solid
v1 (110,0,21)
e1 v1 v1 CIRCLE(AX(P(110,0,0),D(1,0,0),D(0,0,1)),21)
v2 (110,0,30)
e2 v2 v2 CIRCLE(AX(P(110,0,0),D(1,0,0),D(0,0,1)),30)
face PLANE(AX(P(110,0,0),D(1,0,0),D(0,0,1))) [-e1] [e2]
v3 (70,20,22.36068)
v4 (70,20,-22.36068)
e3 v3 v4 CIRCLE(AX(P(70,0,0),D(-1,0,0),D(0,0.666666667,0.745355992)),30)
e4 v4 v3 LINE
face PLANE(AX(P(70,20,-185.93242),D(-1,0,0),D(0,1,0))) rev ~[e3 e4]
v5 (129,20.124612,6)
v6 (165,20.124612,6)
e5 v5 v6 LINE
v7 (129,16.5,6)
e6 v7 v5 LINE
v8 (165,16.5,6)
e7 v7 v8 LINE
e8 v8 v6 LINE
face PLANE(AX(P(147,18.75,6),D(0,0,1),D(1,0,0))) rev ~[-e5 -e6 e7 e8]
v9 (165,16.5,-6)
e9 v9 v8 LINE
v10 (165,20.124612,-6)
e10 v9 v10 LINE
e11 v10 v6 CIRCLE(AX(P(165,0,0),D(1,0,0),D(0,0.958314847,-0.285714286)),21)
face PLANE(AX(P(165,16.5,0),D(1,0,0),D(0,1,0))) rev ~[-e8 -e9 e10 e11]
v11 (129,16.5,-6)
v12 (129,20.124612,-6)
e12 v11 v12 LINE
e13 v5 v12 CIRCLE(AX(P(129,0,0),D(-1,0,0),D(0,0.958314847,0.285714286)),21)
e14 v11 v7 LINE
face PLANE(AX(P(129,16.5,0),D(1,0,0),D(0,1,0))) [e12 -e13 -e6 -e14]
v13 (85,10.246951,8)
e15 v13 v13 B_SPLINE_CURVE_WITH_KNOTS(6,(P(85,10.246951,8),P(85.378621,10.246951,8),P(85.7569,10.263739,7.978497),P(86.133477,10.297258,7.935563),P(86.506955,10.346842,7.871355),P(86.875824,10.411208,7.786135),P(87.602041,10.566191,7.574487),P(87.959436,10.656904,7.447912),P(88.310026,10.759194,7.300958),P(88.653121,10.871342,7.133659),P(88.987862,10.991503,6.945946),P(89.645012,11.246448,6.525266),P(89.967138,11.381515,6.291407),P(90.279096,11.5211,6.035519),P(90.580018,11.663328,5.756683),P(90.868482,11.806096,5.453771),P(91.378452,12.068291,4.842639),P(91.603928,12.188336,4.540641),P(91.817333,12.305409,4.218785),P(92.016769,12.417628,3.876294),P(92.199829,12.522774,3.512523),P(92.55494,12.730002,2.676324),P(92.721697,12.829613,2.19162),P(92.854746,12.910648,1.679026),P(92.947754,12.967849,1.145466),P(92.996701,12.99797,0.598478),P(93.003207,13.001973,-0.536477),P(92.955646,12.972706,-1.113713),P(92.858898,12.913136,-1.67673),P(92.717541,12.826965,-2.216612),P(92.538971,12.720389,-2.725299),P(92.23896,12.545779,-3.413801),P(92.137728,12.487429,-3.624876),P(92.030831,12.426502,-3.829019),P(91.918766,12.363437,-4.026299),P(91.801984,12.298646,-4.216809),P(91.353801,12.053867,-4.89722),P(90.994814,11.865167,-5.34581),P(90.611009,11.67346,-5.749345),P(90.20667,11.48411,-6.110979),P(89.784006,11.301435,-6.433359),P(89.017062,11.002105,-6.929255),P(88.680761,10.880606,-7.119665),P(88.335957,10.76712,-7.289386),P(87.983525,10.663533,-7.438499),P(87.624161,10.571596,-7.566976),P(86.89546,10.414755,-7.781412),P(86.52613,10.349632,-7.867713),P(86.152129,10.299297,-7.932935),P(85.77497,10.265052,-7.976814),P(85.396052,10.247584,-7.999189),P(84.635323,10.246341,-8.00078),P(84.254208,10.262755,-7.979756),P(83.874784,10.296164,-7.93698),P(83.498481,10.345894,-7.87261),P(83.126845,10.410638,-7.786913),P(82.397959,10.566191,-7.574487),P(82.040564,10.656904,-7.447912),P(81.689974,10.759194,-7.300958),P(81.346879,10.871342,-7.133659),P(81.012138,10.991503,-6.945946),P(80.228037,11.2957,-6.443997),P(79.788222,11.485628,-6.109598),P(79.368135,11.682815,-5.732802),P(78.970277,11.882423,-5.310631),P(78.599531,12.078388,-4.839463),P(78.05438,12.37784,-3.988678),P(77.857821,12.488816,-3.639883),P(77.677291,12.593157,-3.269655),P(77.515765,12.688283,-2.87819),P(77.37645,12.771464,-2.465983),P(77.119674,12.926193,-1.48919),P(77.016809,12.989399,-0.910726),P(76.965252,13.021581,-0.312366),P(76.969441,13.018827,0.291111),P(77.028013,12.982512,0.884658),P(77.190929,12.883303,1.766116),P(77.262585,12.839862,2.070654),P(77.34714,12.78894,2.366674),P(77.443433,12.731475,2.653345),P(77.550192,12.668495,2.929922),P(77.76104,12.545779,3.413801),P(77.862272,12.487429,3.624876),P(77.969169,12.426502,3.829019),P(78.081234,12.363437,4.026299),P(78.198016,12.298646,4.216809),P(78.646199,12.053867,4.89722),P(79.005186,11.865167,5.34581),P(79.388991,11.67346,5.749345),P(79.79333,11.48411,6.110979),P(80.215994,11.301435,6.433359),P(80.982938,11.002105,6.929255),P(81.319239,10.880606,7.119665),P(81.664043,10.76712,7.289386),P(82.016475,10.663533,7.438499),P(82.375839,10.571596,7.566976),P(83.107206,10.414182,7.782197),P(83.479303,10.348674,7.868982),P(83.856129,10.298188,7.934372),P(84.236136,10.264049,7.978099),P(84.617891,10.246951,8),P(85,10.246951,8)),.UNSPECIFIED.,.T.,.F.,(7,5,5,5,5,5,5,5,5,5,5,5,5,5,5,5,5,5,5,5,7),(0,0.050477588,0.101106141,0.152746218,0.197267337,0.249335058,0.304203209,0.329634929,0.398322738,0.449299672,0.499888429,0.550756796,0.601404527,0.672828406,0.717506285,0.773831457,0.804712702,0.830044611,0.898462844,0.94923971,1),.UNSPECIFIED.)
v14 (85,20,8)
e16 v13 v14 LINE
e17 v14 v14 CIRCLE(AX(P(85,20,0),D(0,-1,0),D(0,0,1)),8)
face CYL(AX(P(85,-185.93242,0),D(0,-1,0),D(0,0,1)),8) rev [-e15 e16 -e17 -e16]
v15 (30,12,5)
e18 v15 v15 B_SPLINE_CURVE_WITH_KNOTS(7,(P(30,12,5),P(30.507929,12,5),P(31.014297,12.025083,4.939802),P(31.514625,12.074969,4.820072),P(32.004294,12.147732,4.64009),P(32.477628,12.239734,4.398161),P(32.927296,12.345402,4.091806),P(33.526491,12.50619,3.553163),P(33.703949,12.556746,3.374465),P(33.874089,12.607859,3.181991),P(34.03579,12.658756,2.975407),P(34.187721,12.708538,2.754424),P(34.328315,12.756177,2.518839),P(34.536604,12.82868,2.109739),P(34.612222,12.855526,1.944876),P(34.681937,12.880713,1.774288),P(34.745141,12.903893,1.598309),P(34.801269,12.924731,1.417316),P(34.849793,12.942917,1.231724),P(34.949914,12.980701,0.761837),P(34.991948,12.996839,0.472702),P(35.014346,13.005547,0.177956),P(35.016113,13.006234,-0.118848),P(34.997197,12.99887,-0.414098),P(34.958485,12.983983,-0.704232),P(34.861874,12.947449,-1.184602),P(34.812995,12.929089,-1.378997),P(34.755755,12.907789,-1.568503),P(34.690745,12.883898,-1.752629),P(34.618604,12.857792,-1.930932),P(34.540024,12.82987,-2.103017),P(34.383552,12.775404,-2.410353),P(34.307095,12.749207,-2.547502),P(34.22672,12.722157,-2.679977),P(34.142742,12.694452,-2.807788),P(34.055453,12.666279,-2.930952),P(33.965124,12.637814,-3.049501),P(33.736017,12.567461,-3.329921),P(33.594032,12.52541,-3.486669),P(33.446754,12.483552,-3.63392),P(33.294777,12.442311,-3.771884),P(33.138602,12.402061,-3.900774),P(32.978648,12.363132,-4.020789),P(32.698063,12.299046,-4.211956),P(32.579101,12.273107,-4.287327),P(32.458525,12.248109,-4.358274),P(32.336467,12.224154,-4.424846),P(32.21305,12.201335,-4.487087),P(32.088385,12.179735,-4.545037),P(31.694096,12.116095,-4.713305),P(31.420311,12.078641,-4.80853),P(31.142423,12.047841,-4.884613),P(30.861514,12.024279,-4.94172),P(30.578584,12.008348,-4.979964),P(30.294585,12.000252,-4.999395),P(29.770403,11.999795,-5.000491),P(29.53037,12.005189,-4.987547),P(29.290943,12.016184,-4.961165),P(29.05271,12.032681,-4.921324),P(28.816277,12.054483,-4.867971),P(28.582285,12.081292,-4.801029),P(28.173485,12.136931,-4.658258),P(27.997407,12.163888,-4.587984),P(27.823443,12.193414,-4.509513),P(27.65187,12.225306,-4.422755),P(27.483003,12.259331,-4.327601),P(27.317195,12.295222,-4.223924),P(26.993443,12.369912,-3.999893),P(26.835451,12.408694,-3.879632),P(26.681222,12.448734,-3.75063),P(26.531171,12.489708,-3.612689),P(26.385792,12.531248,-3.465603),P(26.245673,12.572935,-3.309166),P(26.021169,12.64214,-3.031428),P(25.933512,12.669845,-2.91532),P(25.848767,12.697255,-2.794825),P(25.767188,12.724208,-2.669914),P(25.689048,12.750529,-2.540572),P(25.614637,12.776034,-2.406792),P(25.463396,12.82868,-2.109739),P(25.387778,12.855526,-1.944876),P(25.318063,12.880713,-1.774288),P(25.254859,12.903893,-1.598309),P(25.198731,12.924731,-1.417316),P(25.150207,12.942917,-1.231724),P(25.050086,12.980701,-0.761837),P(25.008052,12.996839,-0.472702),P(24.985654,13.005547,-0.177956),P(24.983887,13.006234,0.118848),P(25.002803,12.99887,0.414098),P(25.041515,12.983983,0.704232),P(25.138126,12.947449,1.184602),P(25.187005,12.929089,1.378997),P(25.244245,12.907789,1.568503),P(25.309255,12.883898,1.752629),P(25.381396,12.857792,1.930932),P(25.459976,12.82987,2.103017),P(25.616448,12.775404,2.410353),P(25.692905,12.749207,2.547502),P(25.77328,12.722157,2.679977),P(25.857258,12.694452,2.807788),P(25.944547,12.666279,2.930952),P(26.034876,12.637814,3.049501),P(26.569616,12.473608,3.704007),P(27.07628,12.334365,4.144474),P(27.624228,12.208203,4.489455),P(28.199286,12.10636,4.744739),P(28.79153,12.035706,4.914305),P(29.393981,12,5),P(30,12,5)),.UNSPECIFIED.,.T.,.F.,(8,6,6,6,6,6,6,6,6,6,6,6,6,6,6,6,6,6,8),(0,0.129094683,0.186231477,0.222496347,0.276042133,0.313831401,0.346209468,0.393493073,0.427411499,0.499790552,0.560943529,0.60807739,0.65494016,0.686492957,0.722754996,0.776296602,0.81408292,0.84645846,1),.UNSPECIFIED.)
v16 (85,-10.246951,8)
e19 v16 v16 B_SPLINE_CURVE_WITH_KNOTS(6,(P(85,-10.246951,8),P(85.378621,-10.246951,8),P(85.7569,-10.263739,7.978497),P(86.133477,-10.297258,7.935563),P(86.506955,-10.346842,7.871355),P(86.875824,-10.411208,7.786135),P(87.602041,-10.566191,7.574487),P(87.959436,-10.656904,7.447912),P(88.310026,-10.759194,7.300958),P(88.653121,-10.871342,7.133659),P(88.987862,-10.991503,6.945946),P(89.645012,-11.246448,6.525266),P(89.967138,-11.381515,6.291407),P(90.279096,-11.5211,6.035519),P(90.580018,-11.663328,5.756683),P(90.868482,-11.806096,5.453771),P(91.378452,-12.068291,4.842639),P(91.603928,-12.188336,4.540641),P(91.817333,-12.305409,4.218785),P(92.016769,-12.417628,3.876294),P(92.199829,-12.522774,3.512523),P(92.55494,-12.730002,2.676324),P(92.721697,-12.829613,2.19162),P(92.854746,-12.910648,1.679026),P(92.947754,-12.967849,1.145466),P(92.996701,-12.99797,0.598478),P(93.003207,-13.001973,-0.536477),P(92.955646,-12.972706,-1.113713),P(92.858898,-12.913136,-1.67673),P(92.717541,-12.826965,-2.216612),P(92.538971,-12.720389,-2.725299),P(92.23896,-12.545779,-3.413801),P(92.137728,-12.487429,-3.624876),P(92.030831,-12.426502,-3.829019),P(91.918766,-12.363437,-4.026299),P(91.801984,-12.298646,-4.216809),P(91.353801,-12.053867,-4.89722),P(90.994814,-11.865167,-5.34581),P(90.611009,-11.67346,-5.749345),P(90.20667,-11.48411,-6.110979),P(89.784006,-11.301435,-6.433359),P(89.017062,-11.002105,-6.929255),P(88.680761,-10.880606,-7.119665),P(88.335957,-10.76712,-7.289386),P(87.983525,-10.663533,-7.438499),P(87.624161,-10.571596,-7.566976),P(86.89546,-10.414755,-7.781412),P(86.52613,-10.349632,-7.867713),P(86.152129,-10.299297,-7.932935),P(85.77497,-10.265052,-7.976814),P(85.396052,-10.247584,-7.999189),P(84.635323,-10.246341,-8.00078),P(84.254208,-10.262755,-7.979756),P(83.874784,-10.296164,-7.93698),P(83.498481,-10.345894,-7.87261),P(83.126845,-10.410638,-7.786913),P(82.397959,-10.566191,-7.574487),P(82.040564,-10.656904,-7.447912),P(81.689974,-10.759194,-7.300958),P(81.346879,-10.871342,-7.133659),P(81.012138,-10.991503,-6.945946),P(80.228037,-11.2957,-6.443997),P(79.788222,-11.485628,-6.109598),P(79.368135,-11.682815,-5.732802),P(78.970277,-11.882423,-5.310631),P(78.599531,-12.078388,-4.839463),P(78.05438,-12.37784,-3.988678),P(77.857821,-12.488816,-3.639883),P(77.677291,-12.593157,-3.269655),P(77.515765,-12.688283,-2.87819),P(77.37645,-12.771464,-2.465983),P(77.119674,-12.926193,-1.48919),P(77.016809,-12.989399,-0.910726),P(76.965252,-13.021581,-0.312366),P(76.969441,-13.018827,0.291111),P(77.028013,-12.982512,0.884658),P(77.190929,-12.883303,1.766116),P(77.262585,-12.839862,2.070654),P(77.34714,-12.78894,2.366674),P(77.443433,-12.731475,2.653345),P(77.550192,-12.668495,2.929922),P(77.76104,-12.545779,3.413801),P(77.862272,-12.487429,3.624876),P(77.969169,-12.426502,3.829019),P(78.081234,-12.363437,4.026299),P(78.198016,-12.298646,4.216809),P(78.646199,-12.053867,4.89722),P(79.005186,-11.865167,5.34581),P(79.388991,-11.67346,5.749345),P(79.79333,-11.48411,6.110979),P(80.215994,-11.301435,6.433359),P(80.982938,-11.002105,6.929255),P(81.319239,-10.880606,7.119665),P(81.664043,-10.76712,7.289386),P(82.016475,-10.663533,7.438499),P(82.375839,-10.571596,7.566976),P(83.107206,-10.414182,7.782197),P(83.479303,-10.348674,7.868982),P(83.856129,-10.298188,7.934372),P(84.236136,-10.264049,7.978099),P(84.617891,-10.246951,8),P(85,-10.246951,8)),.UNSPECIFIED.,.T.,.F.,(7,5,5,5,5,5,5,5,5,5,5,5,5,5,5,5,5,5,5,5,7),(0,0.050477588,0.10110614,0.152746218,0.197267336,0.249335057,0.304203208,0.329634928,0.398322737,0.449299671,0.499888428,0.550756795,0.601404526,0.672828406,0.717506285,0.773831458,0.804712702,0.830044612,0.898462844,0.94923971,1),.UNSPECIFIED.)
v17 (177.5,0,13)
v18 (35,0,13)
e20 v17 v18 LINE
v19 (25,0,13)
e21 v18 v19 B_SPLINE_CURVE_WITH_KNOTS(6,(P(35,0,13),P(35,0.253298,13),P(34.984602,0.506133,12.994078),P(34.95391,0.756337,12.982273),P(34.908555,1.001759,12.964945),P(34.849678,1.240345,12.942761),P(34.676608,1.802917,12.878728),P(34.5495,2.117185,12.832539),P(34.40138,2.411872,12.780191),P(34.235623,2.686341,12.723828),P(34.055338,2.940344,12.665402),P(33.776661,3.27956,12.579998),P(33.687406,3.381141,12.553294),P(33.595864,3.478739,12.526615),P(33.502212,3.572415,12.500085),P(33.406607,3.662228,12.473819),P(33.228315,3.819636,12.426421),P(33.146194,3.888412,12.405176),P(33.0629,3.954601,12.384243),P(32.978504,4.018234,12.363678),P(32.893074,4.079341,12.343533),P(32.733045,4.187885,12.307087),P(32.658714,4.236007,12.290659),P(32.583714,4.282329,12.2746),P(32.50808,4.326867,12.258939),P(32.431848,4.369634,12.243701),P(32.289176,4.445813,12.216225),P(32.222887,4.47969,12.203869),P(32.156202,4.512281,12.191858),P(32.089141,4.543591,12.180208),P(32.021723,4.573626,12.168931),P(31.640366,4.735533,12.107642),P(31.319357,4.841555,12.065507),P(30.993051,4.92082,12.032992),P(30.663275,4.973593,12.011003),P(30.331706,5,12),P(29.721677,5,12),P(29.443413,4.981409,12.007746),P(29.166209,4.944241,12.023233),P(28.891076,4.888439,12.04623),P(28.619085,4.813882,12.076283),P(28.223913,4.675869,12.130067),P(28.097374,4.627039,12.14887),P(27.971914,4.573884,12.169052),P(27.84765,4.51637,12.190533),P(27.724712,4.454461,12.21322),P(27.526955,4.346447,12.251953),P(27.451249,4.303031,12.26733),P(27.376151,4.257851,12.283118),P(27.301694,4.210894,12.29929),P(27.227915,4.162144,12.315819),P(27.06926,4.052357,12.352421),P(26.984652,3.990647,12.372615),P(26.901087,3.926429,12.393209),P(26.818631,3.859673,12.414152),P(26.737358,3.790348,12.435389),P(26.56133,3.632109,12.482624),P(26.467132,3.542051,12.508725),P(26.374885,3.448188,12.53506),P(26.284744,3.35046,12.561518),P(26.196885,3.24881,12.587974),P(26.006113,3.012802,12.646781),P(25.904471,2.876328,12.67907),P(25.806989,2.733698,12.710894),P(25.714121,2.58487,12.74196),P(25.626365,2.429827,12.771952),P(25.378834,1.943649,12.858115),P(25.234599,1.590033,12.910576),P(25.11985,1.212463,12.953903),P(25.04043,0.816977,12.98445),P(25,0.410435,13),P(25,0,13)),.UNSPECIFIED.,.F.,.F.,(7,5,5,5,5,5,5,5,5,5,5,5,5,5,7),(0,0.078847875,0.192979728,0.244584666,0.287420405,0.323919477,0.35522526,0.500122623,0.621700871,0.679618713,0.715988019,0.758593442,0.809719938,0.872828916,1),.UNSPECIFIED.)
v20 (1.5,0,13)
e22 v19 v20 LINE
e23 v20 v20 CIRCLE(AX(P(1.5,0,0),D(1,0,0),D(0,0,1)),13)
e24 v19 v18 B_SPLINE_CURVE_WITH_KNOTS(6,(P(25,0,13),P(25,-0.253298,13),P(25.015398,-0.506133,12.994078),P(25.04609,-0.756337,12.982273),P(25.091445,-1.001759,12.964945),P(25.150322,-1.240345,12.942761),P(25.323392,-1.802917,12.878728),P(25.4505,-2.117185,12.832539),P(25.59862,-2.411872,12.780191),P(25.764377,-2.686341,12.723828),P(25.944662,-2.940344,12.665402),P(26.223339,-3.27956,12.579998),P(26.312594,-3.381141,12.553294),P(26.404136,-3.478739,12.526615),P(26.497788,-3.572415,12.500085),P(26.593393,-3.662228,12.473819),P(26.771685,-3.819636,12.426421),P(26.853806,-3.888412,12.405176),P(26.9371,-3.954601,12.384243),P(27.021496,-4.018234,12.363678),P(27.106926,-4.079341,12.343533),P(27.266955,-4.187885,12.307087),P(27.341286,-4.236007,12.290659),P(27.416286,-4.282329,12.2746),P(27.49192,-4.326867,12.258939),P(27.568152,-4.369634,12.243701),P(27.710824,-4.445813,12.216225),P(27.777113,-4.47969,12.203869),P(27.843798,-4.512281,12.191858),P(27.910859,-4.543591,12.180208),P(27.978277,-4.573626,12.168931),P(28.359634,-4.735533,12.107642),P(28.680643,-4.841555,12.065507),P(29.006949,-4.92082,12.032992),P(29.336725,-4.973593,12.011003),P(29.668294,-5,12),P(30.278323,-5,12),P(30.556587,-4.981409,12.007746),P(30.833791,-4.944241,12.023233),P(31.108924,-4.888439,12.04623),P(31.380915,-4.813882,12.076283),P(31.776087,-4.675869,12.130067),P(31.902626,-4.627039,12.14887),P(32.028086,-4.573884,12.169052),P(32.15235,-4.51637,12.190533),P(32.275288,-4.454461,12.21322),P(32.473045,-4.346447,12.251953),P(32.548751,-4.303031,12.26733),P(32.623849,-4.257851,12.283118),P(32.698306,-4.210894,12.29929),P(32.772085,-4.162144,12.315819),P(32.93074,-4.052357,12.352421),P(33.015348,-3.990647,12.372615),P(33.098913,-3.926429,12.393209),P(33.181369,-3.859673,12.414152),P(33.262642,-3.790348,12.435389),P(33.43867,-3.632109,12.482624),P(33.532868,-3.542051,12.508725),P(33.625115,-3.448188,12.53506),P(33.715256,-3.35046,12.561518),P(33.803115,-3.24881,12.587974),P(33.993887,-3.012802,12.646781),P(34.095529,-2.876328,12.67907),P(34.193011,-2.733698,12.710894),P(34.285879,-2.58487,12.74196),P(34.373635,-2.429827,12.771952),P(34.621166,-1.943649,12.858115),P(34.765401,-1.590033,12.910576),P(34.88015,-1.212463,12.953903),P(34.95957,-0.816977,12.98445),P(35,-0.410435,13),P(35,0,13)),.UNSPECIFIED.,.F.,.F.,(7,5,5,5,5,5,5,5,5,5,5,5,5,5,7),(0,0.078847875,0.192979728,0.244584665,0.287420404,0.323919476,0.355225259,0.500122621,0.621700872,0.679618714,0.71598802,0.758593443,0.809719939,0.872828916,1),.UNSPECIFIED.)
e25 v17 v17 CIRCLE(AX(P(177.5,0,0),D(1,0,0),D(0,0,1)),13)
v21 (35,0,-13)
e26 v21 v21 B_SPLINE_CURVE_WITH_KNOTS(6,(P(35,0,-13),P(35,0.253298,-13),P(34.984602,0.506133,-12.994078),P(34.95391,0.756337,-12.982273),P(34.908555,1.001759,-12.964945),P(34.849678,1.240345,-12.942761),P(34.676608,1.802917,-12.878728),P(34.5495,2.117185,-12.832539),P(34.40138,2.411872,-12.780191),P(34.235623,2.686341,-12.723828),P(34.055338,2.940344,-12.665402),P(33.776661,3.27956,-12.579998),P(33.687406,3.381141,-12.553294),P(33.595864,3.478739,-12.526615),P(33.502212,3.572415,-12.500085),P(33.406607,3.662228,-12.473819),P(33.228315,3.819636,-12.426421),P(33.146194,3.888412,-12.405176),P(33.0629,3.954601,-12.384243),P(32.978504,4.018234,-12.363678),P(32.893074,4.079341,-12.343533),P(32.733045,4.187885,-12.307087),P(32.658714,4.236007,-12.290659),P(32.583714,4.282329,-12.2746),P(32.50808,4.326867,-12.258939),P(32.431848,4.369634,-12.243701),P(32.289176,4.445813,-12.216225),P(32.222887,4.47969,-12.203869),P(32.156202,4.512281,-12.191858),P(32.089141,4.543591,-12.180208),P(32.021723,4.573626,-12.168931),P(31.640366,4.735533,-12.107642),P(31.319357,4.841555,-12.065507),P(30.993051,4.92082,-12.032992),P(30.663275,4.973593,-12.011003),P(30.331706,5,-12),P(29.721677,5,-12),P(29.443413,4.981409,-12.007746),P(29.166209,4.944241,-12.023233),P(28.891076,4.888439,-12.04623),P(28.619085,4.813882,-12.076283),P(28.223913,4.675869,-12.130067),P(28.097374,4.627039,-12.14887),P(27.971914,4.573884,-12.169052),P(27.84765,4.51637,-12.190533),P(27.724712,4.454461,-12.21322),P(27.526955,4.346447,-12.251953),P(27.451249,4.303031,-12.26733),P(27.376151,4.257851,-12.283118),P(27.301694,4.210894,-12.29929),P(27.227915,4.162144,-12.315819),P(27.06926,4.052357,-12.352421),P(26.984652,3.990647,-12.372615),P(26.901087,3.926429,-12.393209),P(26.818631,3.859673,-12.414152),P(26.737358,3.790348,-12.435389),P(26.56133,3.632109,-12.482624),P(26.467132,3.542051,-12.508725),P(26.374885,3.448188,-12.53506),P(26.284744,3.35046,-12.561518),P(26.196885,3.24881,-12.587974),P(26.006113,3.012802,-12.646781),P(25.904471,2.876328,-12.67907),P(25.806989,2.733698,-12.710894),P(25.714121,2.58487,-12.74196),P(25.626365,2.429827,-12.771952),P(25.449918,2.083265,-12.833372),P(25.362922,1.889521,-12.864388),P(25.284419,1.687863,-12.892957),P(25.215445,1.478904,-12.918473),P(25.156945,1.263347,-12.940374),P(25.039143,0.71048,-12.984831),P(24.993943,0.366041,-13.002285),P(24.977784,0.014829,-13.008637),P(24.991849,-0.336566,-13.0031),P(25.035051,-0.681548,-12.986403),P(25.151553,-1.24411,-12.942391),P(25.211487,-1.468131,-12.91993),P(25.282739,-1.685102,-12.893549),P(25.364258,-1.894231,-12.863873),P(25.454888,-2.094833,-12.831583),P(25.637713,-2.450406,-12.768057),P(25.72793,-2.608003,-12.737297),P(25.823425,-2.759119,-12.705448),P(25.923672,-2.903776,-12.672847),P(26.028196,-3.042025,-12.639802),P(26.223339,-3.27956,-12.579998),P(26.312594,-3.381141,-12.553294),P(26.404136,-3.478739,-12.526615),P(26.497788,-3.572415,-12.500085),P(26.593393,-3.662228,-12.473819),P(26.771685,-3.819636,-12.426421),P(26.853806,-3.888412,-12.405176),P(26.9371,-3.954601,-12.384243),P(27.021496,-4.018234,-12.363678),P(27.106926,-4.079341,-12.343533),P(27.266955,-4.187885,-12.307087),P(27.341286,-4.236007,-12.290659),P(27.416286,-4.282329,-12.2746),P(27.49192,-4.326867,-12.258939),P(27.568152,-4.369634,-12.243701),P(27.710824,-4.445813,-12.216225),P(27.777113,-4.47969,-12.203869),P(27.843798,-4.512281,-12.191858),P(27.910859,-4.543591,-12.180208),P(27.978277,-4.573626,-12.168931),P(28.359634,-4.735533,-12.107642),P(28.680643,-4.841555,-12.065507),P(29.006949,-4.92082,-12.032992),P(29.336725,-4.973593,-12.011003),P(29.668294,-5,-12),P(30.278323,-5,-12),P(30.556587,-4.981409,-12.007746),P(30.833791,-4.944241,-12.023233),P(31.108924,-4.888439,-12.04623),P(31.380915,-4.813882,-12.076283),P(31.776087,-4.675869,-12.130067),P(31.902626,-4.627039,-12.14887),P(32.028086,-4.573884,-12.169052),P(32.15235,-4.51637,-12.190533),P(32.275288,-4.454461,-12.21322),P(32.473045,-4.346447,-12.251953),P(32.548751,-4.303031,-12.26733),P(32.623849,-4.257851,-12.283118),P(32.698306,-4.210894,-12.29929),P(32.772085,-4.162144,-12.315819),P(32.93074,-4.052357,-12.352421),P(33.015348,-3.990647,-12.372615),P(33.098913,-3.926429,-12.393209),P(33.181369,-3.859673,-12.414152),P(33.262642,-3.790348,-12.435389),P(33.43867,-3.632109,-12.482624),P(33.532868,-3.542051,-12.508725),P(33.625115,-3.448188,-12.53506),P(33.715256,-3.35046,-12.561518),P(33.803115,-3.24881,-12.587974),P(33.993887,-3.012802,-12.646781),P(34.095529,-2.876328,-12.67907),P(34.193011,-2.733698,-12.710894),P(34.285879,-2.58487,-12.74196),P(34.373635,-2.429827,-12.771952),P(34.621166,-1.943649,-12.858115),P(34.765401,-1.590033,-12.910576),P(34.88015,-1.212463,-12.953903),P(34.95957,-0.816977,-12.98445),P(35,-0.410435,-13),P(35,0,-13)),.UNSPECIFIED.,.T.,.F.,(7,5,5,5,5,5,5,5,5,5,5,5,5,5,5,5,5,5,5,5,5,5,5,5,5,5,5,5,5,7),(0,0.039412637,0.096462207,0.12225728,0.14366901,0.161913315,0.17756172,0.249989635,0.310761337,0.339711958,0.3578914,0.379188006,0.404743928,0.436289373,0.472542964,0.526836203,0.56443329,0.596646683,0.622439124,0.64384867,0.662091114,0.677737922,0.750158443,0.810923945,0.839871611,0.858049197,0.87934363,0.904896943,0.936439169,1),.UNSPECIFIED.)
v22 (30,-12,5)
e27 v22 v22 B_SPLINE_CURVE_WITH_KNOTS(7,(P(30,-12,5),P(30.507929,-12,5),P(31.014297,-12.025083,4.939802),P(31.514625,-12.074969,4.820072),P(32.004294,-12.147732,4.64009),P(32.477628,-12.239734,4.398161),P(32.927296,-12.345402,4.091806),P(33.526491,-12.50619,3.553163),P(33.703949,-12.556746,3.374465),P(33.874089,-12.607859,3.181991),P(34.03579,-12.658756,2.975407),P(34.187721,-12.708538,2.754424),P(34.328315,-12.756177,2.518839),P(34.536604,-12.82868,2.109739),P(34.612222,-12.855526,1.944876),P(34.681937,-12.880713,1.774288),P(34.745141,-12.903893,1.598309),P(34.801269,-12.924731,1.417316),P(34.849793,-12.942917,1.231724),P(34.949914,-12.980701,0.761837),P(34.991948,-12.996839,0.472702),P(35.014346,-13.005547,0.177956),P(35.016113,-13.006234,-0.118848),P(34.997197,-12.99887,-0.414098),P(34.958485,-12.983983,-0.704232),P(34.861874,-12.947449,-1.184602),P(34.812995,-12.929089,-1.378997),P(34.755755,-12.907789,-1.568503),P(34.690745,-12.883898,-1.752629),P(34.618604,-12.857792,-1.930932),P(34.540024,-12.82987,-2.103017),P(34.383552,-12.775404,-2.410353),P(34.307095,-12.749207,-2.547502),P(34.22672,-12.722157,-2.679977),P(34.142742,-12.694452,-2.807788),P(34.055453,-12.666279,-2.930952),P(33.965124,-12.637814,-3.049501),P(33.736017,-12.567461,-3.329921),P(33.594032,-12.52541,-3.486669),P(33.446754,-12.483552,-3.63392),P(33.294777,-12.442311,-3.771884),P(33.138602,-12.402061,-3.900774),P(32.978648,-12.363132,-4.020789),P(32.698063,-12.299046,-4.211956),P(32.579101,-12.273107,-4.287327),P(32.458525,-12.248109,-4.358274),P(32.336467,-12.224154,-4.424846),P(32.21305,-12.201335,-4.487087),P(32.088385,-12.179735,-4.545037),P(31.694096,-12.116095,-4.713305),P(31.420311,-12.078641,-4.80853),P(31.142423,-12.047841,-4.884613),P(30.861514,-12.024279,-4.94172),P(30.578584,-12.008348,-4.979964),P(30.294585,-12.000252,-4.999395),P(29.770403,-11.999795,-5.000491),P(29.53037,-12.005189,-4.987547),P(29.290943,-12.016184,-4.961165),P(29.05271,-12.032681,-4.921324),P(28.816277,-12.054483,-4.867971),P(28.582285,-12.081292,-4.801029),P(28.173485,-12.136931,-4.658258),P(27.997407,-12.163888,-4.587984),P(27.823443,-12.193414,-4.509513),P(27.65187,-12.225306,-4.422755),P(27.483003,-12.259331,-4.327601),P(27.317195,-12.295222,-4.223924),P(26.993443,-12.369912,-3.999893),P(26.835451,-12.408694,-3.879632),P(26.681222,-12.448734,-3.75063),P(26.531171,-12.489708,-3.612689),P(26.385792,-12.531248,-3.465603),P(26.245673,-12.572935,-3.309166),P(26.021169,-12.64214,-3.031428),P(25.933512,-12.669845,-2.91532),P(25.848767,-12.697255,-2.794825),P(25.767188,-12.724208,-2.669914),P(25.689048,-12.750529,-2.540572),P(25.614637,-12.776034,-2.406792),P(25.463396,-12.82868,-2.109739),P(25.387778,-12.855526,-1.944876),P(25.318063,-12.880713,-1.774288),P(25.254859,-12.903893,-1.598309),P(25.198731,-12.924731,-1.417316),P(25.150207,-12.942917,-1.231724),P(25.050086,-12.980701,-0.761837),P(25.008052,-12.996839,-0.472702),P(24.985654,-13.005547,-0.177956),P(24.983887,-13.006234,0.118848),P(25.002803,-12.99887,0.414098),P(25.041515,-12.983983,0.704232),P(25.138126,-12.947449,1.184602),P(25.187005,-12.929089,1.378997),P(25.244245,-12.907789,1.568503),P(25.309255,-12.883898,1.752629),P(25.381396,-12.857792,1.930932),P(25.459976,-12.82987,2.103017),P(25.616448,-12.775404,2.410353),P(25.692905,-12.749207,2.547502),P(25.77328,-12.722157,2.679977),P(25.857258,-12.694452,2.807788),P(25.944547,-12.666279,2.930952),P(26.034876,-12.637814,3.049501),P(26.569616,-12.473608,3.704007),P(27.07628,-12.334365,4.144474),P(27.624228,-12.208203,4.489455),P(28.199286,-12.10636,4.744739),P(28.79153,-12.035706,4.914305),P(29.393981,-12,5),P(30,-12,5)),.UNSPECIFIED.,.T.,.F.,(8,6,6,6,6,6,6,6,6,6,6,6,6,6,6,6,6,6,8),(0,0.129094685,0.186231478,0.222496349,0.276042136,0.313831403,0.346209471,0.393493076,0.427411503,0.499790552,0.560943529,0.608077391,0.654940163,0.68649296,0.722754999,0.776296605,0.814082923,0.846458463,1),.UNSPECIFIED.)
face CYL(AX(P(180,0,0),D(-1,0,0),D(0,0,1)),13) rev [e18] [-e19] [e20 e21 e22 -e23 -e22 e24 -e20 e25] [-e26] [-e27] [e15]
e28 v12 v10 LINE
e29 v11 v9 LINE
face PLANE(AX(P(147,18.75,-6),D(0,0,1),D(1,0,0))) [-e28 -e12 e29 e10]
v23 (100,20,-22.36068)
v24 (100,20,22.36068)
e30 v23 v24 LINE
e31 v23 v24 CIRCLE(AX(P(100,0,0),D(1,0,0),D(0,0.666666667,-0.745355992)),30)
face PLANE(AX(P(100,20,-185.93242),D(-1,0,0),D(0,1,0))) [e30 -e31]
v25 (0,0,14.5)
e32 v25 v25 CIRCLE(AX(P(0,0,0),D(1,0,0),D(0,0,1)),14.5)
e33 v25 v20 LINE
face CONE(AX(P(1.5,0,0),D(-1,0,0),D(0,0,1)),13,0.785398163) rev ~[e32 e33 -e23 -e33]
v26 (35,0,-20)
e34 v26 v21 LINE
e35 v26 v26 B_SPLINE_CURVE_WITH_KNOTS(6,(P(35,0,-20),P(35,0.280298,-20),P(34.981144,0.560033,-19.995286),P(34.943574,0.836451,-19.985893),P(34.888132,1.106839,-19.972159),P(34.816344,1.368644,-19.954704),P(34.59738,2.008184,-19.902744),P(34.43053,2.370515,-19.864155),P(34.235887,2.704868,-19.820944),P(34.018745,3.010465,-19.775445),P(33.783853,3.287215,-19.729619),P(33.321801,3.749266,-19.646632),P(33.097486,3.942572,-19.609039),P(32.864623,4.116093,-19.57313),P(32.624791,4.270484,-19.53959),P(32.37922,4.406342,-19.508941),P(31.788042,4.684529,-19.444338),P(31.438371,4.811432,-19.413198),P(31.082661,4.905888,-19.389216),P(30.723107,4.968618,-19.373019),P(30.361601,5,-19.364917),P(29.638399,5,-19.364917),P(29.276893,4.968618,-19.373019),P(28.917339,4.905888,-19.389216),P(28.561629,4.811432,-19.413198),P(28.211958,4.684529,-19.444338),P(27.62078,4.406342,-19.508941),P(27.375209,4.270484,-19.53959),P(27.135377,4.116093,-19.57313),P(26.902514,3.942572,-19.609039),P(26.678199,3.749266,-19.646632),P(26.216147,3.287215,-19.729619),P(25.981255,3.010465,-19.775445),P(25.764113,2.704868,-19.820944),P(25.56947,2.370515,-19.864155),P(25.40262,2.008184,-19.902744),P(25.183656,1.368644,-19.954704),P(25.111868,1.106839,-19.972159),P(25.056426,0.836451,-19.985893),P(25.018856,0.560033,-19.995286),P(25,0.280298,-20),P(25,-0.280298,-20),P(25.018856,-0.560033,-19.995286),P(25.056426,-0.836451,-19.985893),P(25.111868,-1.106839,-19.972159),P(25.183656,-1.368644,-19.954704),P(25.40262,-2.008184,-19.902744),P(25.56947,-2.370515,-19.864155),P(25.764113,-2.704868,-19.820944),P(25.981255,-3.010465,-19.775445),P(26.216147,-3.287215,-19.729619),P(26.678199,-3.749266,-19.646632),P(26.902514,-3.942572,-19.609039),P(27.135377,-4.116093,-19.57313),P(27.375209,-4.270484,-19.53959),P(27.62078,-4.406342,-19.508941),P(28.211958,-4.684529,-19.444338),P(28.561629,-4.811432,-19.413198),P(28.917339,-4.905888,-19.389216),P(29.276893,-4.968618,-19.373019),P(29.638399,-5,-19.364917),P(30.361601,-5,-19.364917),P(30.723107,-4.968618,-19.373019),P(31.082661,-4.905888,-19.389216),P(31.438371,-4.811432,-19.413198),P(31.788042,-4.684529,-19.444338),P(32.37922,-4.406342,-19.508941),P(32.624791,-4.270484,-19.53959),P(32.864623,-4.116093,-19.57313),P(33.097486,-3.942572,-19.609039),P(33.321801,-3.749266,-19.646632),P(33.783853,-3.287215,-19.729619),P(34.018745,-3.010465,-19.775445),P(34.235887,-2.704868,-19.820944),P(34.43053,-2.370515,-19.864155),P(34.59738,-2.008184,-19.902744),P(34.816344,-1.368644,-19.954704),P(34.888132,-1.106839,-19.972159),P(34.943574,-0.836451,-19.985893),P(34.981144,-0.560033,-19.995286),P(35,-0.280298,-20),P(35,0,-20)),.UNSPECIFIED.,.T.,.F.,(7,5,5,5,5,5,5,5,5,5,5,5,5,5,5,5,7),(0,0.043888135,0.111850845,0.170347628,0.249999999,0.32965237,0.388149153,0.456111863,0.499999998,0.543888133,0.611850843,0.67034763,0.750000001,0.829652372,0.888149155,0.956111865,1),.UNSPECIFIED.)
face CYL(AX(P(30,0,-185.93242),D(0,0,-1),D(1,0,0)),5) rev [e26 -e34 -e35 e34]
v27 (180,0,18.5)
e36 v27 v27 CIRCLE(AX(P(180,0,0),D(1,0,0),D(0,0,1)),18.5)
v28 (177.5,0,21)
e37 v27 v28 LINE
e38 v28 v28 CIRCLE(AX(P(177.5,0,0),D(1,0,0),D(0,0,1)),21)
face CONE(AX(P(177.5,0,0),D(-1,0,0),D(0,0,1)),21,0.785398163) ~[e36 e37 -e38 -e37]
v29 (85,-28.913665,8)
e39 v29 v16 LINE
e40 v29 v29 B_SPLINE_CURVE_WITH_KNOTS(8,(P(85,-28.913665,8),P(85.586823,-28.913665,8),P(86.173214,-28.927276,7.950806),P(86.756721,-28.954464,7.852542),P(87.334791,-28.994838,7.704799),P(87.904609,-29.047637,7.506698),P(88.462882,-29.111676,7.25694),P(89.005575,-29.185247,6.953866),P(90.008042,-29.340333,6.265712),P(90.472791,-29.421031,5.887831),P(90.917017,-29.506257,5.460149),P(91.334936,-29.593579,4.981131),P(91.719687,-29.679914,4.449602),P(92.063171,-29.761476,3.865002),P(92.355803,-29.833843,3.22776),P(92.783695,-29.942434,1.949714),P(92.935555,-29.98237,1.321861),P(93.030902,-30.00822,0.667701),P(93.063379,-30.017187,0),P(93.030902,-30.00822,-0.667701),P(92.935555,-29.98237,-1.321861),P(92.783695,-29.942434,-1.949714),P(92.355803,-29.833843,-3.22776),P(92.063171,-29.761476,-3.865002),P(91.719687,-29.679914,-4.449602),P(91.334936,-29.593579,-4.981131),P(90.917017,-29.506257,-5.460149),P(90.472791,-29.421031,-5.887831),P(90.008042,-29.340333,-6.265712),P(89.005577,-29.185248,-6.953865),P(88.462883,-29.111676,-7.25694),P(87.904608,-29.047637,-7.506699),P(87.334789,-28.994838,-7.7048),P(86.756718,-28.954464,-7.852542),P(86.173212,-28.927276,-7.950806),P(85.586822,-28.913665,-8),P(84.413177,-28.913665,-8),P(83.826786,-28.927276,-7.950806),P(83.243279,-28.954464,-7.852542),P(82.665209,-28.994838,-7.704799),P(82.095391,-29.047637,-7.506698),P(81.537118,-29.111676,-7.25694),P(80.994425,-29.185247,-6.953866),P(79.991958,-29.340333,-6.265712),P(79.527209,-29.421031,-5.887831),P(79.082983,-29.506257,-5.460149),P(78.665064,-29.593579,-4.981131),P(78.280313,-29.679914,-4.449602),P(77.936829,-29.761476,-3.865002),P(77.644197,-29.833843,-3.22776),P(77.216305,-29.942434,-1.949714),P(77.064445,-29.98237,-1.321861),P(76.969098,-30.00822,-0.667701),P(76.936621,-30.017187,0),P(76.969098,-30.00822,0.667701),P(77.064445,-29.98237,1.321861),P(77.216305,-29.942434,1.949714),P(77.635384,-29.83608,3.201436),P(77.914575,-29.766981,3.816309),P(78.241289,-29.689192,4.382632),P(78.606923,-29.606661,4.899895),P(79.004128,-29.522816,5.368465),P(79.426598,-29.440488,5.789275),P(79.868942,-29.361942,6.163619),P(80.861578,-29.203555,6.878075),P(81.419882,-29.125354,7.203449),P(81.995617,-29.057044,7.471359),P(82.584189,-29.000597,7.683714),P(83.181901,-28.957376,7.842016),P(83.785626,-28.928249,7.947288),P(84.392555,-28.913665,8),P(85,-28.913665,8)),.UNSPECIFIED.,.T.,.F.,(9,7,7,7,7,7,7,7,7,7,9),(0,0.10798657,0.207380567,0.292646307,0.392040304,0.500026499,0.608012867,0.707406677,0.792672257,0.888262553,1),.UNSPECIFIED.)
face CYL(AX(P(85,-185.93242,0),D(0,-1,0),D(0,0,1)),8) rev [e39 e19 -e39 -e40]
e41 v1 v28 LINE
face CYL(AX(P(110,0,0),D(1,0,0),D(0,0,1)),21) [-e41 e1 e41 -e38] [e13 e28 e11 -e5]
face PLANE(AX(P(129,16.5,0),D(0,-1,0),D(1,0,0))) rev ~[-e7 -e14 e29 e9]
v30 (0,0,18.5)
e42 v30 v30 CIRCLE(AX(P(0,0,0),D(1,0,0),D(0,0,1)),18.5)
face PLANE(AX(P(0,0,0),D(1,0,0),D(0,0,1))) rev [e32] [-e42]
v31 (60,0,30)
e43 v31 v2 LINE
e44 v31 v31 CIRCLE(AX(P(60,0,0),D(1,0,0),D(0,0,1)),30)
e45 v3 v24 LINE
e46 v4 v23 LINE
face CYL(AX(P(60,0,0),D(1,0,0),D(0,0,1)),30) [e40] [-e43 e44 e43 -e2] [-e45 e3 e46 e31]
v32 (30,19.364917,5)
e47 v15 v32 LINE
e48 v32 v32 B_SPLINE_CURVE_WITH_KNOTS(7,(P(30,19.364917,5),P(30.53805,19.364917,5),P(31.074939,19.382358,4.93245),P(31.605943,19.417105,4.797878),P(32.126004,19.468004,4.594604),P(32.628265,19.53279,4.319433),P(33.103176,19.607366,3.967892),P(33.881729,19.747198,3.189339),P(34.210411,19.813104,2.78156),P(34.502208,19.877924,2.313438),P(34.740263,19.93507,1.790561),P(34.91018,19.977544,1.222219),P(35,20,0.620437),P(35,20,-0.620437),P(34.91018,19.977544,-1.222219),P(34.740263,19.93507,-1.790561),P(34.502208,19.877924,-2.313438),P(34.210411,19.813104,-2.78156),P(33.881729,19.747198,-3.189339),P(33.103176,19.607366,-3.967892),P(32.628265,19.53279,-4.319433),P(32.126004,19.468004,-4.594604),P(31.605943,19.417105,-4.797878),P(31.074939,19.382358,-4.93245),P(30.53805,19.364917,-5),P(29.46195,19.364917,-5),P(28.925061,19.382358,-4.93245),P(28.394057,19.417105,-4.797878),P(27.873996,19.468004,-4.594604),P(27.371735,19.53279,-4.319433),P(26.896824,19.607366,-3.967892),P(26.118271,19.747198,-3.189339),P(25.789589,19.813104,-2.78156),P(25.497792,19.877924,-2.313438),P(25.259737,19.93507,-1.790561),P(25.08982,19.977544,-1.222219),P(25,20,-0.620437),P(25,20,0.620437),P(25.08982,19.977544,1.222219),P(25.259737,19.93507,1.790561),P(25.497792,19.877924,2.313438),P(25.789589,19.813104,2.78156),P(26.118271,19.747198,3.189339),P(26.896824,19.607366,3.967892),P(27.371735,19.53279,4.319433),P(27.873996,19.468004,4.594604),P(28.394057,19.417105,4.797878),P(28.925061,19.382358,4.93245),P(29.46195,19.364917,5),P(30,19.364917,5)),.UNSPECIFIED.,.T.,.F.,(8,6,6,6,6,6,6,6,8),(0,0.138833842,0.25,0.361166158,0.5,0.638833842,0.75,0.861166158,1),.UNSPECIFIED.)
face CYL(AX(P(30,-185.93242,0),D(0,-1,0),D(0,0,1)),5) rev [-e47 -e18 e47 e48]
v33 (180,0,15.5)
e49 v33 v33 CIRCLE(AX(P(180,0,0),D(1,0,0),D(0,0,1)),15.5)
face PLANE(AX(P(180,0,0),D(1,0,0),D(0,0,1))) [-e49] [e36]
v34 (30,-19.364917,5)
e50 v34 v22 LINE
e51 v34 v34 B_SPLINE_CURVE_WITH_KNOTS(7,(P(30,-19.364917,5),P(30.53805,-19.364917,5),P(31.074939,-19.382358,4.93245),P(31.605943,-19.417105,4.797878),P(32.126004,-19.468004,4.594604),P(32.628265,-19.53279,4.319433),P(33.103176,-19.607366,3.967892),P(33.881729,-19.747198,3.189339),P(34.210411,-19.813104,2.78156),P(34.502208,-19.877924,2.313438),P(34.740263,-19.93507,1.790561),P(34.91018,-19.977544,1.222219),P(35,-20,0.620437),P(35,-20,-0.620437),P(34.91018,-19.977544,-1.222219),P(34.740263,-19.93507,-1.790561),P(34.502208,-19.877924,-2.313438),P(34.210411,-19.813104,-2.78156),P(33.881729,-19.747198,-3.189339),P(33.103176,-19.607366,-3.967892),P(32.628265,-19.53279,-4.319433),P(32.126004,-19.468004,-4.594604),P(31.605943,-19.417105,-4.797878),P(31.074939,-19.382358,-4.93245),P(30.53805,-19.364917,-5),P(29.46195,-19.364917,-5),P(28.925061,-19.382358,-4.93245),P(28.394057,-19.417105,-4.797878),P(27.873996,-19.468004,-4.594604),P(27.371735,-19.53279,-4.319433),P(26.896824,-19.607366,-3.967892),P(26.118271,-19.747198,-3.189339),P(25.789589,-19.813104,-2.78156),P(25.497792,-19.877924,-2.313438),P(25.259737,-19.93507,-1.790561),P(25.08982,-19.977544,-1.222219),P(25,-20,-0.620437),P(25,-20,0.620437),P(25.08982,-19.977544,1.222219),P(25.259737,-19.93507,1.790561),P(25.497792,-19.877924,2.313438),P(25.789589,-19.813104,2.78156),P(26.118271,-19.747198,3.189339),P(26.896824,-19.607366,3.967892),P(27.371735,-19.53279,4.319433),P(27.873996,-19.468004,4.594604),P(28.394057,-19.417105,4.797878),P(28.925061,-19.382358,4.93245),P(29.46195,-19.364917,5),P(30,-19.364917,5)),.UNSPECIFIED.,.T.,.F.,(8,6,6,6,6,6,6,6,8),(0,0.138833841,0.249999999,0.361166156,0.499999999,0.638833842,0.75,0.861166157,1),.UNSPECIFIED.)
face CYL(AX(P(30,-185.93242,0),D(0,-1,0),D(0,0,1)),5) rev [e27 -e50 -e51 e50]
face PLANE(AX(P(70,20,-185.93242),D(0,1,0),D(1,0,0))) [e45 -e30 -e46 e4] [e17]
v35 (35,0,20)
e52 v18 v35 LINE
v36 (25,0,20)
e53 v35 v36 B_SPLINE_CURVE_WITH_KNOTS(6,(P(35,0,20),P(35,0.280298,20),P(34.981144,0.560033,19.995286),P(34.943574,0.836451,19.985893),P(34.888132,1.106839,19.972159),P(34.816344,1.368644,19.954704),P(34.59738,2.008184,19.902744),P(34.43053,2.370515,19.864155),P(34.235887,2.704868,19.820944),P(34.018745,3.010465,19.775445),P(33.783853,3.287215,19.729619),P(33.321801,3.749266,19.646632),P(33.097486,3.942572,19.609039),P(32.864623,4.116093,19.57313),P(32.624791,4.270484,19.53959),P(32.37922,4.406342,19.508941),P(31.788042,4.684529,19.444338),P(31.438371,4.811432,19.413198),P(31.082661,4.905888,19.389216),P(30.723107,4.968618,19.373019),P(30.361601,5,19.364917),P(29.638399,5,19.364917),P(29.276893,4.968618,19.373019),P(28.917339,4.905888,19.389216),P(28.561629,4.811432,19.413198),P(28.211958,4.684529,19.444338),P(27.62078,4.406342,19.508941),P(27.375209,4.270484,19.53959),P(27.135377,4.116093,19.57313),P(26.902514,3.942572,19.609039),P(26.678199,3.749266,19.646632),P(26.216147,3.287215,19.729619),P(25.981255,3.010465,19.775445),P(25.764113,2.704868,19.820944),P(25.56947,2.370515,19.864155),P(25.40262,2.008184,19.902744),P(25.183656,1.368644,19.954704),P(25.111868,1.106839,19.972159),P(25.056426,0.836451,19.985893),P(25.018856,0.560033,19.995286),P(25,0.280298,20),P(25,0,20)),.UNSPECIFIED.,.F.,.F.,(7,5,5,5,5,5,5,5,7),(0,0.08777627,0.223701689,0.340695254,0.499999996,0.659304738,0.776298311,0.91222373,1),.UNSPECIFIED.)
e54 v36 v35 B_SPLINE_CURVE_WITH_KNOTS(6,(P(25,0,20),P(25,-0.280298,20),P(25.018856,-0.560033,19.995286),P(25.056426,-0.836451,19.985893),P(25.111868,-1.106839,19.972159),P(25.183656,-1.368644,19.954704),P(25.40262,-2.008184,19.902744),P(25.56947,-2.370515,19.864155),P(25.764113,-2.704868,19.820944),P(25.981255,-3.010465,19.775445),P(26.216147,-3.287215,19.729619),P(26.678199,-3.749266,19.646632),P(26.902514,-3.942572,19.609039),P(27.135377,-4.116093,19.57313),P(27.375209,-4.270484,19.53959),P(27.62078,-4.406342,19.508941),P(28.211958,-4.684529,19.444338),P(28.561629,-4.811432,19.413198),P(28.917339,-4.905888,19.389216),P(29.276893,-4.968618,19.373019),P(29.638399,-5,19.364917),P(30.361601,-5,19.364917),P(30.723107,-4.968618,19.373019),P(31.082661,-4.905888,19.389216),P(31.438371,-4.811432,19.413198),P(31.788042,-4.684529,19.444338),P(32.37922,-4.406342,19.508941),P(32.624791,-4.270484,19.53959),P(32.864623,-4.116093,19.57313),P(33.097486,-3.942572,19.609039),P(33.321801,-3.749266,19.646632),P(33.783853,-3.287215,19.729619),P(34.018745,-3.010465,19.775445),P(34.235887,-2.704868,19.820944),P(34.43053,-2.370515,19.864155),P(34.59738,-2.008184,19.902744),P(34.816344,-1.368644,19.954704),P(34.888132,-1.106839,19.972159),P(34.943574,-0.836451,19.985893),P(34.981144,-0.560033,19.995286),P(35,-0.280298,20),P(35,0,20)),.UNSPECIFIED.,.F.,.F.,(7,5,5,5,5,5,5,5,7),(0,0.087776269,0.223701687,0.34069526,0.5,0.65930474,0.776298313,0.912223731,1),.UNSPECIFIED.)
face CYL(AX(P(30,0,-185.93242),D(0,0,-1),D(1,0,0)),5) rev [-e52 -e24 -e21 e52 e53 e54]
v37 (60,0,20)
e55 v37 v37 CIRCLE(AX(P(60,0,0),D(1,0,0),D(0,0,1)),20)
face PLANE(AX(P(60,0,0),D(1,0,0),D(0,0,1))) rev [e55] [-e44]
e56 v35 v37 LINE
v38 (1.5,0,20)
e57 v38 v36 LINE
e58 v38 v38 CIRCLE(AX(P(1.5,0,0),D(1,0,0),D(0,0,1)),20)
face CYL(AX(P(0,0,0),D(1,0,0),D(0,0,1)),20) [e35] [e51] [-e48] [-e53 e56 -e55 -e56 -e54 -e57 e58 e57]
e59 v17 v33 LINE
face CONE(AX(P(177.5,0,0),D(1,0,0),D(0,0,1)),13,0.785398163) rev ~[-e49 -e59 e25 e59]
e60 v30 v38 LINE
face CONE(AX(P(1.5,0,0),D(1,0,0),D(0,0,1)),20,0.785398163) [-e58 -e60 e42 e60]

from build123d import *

# Parameters (mm, degrees)
CUT_EXTRUDE_1_DEPTH      = 185.932420089
CUT_EXTRUDE_1_DEPTH_BACK = 185.932420089
SKETCH_2_W               = 30
SKETCH_2_H               = 10
CUT_EXTRUDE_2_DEPTH      = 185.932420089
CUT_EXTRUDE_2_DEPTH_BACK = 185.932420089
SKETCH_3_R               = 5
SKETCH_3_R_2             = 8
CUT_EXTRUDE_3_DEPTH      = 185.932420219
CUT_EXTRUDE_3_DEPTH_BACK = 185.932420219
SKETCH_5_R               = 5
SKETCH_6_W               = 36
SKETCH_6_H               = 4.5
CUT_EXTRUDE_4_DEPTH      = 6
CHAMFER_1_SIZE           = 1.5
CHAMFER_2_SIZE           = 2.5


with BuildPart() as part:
    # Эскиз1 → Повернуть1 (revolve)
    with BuildSketch(Plane.XY, mode=Mode.PRIVATE) as revolve_1_sk:
        Polygon((0, 13), (0, 20), (60, 20), (60, 30), (110, 30), (110, 21), (180, 21), (180, 13), align=None)
    revolve(revolve_1_sk.sketch.rotate(Axis((0, 0, 0), (1, 0, 0)), 90), axis=Axis((0, 0, 0), (1, 0, 0)))

    # Эскиз2 → Вырез-Вытянуть1 (cut, two sides: drawn at the far end of the back side and taken through both)
    with BuildSketch(Plane.XY.offset(-CUT_EXTRUDE_1_DEPTH_BACK)):
        with Locations((85, 25)):
            Rectangle(SKETCH_2_W, SKETCH_2_H)
    extrude(amount=CUT_EXTRUDE_1_DEPTH + CUT_EXTRUDE_1_DEPTH_BACK, mode=Mode.SUBTRACT)

    # Эскиз3 → Вырез-Вытянуть2 (cut, two sides: drawn at the far end of the back side and taken through both)
    with BuildSketch(Plane(origin=(0, 0, 0), x_dir=(1, 0, 0), z_dir=(0, 1, 0)).offset(-CUT_EXTRUDE_2_DEPTH_BACK)):
        with Locations(Location((30, 0, 0), (0, 0, 270))):
            Circle(SKETCH_3_R)
        with Locations(Location((85, 0, 0), (0, 0, 270))):
            Circle(SKETCH_3_R_2)
    extrude(amount=CUT_EXTRUDE_2_DEPTH + CUT_EXTRUDE_2_DEPTH_BACK, mode=Mode.SUBTRACT)

    # Эскиз5 → Вырез-Вытянуть3 (cut, two sides: drawn at the far end of the back side and taken through both)
    with BuildSketch(Plane.XY.offset(-CUT_EXTRUDE_3_DEPTH_BACK)):
        with Locations((30, 0)):
            Circle(SKETCH_5_R)
    extrude(amount=CUT_EXTRUDE_3_DEPTH + CUT_EXTRUDE_3_DEPTH_BACK, mode=Mode.SUBTRACT)

    # Эскиз6 → Вырез-Вытянуть4 (cut, symmetric)
    with BuildSketch(Plane.XY):
        with Locations((147, 18.75)):
            Rectangle(SKETCH_6_W, SKETCH_6_H)
    extrude(amount=CUT_EXTRUDE_4_DEPTH, both=True, mode=Mode.SUBTRACT)

    # Фаска1
    chamfer_1_edges = [part.edges().sort_by_distance(p)[0] for p in [
        (0, 0, -13),
        (0, 0, -20),
    ]]
    chamfer(chamfer_1_edges, length=CHAMFER_1_SIZE)

    # Фаска2
    chamfer_2_edges = [part.edges().sort_by_distance(p)[0] for p in [
        (180, 0, -13),
        (180, 0, -21),
    ]]
    chamfer(chamfer_2_edges, length=CHAMFER_2_SIZE)


solid = part.part
